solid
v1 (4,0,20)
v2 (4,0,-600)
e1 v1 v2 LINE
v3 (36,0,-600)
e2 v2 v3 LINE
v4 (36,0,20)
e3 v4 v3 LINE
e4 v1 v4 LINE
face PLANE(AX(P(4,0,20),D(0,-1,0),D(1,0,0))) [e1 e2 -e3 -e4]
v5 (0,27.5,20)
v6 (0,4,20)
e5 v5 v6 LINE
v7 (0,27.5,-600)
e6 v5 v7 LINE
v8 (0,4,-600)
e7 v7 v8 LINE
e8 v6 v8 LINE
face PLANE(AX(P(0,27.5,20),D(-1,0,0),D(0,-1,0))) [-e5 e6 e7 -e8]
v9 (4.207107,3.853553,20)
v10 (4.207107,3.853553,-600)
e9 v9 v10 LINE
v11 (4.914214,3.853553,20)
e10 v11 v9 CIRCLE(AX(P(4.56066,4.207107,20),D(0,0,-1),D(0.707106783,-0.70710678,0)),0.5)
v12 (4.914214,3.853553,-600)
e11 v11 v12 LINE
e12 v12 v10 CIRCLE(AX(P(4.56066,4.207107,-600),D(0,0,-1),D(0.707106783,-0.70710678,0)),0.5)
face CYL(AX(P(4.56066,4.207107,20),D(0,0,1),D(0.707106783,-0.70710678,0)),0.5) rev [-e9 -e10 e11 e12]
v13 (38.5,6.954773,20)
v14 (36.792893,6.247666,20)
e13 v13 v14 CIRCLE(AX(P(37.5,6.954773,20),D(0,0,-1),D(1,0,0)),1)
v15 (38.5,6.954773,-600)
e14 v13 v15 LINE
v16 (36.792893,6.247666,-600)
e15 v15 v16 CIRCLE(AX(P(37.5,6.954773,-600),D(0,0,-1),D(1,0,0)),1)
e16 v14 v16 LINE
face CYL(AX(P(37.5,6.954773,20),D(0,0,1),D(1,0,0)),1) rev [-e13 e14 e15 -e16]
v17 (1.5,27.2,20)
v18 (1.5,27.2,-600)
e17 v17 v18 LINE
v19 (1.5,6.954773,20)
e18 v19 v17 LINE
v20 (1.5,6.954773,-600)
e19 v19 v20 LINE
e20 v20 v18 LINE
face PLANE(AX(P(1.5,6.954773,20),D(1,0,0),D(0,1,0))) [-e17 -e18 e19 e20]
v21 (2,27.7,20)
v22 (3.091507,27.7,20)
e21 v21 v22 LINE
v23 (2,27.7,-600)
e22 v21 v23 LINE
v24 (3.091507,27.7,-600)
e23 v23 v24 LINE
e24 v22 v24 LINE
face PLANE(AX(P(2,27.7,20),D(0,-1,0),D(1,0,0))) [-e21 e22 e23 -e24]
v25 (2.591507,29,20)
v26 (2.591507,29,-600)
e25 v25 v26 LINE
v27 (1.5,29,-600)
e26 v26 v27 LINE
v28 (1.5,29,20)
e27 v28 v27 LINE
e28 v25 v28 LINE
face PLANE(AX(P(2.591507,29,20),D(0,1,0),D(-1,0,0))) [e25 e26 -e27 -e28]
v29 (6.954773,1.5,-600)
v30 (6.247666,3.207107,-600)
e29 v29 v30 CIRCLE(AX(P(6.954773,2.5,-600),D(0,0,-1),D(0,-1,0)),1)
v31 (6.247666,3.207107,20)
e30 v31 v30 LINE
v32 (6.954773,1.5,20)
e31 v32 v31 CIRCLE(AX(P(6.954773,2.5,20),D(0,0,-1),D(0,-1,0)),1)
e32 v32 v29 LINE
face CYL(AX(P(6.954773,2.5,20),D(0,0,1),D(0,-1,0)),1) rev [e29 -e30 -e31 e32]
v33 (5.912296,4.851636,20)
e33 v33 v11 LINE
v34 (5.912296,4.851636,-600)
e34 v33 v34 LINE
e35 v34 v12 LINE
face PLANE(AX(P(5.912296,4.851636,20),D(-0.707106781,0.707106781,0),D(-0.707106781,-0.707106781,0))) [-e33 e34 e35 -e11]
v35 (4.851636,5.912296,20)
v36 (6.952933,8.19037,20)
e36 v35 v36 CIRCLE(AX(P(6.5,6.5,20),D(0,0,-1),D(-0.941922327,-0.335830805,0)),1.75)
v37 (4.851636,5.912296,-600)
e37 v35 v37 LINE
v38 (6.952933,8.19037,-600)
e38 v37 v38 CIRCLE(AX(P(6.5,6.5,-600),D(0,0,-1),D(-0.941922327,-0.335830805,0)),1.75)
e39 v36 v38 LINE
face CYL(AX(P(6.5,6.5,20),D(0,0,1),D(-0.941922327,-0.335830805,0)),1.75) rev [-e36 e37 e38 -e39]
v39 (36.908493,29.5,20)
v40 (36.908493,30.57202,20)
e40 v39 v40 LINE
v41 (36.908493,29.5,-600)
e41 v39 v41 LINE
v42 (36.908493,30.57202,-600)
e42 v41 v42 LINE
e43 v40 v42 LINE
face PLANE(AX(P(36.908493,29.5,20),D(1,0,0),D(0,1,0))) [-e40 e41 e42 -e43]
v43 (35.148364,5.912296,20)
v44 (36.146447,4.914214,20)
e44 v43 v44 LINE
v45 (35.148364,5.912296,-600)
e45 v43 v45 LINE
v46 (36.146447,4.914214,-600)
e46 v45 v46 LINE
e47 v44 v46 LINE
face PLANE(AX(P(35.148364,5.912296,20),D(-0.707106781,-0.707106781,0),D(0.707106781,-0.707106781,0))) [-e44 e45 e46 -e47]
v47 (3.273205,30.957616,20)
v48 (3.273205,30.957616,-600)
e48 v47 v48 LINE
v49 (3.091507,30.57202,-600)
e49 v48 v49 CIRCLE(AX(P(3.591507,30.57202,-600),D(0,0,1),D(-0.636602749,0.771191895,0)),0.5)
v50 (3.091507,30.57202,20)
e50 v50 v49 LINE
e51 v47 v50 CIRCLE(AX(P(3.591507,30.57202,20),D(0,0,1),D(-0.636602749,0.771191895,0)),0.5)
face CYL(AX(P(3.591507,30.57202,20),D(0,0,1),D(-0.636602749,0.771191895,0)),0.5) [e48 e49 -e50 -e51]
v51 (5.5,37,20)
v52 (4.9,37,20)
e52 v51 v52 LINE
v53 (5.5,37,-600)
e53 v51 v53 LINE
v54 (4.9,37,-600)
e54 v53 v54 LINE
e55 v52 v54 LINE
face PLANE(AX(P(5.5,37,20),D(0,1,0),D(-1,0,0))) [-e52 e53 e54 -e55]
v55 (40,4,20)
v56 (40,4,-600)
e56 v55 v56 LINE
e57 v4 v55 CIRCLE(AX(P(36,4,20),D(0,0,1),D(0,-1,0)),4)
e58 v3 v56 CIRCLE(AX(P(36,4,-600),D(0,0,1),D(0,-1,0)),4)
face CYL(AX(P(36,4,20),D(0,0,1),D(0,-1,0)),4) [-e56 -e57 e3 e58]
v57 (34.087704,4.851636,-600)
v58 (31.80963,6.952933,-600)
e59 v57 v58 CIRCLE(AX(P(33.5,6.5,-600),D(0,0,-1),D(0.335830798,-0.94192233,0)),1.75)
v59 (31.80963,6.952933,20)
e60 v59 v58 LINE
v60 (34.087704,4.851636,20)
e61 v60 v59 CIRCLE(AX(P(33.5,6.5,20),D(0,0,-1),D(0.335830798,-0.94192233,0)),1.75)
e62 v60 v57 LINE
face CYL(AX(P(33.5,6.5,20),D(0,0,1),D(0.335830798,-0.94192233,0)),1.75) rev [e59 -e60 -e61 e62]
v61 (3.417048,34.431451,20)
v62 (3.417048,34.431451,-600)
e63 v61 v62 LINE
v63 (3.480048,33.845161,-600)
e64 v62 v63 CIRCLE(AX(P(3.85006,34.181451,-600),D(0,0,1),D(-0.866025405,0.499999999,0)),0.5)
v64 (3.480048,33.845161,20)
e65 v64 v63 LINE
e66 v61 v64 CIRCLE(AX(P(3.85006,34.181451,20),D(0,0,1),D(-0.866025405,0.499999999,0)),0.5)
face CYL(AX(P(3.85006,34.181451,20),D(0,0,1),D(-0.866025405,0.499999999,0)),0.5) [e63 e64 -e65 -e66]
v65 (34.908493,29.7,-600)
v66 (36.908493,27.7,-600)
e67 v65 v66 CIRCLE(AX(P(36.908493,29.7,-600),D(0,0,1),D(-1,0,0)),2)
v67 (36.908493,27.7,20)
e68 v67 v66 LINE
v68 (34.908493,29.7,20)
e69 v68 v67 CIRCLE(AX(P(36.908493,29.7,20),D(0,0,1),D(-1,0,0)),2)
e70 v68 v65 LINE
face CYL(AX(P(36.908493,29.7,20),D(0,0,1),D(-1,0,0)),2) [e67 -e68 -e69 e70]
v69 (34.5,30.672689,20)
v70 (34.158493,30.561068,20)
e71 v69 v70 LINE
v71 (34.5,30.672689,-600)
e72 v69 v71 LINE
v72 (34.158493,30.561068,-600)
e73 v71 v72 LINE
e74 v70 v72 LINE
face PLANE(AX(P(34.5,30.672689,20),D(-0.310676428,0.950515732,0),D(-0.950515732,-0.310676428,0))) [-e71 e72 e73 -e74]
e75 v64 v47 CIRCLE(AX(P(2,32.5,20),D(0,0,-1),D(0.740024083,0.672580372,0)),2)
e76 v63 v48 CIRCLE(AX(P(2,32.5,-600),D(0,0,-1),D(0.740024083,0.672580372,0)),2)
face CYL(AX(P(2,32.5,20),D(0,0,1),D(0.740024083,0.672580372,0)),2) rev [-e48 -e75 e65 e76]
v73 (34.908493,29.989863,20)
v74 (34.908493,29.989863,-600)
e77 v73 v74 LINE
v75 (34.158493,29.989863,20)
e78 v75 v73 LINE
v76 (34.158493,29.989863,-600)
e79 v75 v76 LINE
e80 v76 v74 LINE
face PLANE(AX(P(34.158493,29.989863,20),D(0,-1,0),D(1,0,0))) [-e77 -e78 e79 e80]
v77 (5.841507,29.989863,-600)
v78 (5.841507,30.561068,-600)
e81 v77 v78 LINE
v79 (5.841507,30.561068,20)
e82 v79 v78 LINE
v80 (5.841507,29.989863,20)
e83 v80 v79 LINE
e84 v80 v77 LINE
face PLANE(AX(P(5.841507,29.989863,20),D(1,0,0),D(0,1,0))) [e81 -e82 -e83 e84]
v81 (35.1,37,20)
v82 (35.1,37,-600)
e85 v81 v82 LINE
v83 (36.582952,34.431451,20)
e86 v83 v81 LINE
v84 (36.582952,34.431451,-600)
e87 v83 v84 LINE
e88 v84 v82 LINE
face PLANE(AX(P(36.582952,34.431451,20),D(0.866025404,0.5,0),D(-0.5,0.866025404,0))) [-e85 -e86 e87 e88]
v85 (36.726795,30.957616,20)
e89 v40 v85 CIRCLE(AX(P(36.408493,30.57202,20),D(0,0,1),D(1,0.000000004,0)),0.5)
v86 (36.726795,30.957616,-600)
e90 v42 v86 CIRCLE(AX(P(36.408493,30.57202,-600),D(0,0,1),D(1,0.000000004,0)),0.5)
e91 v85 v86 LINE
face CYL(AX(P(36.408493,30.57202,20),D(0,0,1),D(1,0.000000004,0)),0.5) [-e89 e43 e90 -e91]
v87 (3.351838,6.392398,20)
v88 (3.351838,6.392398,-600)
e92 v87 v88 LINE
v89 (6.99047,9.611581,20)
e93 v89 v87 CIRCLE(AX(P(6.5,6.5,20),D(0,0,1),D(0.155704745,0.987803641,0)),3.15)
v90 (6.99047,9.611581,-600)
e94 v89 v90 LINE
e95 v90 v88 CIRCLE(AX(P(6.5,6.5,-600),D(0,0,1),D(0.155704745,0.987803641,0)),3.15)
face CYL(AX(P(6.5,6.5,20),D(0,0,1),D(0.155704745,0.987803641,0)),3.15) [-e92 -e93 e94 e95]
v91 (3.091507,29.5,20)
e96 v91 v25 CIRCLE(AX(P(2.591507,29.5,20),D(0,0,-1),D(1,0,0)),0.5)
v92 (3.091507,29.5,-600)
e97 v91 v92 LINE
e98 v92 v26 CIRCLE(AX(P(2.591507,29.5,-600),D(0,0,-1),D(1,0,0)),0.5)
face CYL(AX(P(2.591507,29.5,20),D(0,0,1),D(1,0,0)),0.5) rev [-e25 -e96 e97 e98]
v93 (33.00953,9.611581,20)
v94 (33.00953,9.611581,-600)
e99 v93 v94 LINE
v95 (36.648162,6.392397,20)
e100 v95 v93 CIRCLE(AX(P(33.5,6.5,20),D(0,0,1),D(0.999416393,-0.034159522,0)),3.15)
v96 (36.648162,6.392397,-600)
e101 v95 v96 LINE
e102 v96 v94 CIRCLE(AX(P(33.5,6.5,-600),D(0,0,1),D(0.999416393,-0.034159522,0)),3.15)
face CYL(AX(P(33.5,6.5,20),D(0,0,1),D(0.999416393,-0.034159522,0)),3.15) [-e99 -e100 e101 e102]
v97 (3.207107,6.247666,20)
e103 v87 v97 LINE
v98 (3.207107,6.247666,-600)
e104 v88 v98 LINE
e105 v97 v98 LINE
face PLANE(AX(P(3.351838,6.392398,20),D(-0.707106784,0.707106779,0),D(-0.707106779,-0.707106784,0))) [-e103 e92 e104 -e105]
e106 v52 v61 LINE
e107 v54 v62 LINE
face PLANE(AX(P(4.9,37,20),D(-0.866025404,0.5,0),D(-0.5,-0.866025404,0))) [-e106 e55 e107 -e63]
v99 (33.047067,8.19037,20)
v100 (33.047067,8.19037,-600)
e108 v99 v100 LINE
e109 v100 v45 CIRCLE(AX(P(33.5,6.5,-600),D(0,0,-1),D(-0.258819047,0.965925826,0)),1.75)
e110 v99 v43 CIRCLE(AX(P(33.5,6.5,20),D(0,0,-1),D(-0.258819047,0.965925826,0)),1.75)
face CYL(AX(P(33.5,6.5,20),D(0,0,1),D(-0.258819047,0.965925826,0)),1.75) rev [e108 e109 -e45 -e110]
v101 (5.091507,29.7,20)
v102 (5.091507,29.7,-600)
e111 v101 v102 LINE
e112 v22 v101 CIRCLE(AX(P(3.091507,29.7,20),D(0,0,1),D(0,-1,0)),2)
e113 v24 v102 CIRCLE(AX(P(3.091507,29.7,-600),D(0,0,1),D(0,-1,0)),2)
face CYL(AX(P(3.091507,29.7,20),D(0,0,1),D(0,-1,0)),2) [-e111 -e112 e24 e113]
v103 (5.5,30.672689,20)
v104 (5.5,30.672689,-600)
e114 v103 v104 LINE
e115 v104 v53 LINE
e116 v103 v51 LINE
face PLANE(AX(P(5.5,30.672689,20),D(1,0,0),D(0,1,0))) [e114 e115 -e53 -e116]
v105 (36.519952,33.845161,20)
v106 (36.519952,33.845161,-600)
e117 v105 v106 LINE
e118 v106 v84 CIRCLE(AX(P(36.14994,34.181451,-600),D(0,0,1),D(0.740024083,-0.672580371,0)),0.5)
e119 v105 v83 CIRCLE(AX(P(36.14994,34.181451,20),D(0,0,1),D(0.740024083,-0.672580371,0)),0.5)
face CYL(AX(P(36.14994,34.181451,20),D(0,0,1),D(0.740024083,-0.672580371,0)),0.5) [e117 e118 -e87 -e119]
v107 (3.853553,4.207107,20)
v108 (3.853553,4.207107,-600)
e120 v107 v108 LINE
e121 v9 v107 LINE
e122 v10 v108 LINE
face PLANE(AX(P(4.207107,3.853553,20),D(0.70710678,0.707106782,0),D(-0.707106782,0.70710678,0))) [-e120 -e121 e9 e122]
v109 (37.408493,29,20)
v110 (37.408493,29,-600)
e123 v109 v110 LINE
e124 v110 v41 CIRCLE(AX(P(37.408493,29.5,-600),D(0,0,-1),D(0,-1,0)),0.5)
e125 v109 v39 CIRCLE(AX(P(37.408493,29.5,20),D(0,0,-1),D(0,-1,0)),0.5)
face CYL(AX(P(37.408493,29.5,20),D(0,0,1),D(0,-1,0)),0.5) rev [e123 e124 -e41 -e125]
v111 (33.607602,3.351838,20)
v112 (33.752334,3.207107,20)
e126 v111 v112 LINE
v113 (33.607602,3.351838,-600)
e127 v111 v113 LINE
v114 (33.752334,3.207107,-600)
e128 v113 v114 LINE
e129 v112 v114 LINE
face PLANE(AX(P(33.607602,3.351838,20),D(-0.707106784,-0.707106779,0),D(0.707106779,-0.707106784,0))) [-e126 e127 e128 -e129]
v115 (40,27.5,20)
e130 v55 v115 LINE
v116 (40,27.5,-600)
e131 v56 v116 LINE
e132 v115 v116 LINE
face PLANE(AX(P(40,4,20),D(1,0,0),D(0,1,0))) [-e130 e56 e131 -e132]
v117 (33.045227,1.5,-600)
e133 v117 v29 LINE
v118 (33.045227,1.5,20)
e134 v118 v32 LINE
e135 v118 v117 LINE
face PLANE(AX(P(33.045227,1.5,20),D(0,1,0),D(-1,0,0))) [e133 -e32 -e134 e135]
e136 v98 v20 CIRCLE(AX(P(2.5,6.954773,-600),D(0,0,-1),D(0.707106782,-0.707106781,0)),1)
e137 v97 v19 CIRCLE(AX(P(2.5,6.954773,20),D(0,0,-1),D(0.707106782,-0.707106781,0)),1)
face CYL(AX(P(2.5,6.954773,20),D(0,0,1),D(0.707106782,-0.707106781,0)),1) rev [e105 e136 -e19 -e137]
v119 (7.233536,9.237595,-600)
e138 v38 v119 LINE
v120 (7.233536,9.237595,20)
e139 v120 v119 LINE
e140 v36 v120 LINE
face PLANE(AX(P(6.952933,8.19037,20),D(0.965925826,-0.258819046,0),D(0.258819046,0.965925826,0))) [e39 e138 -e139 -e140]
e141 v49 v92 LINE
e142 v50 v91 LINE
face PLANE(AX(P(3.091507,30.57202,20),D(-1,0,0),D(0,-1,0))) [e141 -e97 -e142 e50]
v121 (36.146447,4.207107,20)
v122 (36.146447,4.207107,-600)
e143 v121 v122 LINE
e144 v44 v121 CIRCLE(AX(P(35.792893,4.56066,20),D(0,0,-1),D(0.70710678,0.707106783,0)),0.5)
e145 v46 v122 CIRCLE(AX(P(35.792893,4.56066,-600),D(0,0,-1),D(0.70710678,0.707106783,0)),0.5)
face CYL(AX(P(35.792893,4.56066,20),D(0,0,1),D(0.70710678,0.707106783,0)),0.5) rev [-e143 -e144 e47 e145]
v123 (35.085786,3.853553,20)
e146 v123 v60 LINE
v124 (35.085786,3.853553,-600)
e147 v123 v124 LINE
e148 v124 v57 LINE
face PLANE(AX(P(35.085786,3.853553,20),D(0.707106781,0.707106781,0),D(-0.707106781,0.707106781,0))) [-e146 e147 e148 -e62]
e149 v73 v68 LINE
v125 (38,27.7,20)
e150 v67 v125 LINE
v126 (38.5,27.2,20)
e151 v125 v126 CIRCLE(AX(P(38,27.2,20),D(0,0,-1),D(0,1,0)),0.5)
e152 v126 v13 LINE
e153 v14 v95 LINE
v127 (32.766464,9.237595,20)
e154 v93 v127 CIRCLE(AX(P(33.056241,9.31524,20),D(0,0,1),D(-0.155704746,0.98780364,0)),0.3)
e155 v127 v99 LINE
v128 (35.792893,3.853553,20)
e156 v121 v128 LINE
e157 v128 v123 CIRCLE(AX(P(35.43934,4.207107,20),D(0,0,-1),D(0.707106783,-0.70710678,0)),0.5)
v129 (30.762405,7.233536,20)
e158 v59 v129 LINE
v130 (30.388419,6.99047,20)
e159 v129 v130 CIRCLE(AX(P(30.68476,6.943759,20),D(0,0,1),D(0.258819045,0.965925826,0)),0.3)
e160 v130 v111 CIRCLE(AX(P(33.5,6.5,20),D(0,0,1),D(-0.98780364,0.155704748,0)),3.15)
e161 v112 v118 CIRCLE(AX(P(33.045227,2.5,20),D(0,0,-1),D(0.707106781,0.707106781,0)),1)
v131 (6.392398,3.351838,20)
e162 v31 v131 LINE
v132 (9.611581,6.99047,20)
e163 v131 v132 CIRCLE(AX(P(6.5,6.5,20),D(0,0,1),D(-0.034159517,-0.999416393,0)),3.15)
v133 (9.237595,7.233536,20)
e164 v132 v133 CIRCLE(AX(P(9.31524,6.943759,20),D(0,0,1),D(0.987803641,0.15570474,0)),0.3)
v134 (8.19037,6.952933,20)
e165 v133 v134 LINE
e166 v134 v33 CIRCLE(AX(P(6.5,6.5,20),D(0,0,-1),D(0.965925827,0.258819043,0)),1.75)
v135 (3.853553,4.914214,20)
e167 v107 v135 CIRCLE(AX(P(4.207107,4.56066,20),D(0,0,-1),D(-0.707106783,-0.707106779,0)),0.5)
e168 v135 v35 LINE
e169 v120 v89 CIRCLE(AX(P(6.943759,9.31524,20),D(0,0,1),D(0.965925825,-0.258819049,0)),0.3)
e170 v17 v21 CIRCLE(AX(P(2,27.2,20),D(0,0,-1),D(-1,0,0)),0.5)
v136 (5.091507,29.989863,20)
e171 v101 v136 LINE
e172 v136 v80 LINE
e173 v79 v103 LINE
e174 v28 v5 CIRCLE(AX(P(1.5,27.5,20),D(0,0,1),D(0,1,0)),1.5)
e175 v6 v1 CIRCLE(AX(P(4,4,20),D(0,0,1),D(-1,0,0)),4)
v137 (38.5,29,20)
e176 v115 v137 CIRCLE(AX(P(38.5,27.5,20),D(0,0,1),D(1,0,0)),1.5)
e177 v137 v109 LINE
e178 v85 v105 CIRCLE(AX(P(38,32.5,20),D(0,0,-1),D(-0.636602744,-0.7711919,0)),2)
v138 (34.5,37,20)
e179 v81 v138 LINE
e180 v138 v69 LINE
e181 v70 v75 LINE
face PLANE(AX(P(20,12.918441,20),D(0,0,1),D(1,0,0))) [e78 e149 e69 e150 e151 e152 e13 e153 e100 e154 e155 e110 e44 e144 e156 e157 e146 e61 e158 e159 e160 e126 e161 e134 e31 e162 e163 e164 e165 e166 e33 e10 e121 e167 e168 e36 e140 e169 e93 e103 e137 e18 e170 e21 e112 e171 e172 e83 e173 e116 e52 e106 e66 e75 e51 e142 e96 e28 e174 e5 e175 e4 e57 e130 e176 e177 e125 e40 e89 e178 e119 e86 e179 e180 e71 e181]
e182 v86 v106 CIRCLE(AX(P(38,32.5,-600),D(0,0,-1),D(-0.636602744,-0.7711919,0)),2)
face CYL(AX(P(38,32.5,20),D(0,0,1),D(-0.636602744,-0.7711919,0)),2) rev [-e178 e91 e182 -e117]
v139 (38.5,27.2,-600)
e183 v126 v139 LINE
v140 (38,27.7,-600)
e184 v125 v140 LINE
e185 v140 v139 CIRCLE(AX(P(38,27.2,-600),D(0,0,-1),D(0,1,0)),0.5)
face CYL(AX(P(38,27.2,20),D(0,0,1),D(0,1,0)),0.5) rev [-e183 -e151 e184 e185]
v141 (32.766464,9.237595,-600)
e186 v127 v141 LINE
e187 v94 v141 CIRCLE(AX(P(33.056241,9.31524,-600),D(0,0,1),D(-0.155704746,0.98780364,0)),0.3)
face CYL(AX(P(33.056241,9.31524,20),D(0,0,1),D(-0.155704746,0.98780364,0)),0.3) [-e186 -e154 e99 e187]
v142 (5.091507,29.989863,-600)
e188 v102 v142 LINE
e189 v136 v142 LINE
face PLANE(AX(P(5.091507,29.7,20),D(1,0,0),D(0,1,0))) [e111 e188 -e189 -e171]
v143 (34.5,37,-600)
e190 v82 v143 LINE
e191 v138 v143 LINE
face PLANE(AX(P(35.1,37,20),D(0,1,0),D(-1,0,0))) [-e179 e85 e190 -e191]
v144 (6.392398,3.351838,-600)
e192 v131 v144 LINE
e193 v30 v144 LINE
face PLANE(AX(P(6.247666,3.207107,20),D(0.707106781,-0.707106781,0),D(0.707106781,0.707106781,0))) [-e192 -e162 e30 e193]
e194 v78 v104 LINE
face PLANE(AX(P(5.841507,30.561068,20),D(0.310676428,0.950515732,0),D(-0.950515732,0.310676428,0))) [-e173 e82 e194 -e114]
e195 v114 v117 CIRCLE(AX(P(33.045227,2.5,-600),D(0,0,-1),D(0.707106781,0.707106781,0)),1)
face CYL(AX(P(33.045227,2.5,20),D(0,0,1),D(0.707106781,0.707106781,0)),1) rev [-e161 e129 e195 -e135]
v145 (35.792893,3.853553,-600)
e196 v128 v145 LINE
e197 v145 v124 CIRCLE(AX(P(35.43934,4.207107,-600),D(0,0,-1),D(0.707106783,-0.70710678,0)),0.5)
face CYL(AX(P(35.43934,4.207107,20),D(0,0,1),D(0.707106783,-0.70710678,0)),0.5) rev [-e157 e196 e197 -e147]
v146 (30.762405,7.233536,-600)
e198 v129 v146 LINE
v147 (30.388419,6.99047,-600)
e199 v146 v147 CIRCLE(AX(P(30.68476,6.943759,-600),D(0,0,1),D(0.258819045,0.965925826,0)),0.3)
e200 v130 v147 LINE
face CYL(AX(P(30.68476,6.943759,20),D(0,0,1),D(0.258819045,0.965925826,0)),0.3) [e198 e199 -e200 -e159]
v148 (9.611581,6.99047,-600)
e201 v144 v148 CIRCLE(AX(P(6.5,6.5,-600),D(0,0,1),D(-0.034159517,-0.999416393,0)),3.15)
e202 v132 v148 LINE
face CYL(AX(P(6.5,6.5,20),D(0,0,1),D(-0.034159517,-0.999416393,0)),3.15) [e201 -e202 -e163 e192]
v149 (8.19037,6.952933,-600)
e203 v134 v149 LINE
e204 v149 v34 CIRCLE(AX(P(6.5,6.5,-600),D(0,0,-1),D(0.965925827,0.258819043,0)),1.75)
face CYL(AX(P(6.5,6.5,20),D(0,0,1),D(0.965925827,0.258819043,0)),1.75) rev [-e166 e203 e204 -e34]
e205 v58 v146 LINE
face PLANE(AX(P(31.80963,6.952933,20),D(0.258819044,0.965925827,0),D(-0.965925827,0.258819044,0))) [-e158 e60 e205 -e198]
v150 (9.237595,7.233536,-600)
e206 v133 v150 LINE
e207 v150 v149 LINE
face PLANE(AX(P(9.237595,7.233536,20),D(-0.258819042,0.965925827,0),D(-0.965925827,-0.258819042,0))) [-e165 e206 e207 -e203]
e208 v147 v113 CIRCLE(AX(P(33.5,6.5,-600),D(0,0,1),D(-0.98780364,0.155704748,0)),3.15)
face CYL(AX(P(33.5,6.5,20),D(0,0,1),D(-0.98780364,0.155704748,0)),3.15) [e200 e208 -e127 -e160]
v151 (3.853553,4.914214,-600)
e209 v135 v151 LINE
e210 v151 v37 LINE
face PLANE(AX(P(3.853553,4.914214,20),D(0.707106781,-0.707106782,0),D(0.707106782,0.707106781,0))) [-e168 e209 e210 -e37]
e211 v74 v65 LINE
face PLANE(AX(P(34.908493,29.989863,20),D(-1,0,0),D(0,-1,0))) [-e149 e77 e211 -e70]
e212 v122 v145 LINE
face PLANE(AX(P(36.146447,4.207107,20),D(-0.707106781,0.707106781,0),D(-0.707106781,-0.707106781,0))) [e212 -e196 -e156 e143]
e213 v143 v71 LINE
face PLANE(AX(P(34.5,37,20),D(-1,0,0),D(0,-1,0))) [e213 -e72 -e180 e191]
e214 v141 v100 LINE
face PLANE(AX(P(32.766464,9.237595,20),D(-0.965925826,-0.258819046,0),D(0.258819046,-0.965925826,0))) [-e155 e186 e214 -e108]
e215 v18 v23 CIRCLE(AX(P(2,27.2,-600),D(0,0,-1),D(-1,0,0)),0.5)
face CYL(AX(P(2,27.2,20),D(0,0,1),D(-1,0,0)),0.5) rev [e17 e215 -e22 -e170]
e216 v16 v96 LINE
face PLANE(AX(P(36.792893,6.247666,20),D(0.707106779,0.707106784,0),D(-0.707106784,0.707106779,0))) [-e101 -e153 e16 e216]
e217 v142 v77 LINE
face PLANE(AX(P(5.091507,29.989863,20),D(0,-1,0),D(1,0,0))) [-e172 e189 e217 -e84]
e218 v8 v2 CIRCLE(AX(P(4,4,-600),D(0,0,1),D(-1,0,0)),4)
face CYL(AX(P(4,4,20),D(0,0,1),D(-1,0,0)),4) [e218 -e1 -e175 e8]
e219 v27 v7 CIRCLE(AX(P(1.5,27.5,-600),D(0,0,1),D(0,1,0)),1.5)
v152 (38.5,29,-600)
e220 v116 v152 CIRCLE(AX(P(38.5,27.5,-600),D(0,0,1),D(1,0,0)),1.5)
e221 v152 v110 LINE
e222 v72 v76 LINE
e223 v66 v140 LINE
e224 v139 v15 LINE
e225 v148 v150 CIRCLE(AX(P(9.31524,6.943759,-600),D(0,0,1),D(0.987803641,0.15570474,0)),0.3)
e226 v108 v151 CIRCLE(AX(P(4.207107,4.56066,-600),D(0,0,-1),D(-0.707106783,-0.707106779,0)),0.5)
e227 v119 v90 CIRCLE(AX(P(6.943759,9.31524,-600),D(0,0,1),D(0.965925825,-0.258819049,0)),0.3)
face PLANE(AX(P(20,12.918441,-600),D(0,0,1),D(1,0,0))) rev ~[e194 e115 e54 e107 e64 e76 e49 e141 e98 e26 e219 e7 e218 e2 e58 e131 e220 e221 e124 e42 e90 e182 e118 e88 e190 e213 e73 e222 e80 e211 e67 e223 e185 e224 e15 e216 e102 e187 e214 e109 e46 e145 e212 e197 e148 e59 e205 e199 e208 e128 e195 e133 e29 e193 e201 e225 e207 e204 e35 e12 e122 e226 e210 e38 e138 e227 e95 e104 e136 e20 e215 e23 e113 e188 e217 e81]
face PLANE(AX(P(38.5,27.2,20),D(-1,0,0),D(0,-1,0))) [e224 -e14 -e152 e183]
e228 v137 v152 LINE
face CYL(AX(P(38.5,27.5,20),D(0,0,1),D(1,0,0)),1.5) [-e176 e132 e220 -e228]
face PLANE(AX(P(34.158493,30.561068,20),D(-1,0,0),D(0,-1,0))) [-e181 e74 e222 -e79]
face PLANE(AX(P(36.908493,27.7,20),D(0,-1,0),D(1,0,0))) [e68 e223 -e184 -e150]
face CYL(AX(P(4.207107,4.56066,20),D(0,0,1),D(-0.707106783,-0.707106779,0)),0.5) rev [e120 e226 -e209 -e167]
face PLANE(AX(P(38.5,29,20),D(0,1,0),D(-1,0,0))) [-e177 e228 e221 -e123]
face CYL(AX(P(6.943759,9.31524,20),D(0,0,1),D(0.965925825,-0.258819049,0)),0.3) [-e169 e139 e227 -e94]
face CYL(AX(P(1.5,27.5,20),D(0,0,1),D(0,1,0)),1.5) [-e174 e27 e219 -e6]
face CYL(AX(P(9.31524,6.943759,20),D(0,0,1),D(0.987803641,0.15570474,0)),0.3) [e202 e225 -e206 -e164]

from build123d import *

# Parameters (mm, degrees)
BOSS_EXTRUDE1_DEPTH = 620


with BuildPart() as part:
    # Sketch1 → Boss-Extrude1 (new body)
    with BuildSketch(Plane.XY.offset(20)):
        with BuildLine():
            Line((4, 0), (36, 0))
            ThreePointArc((36, 0), (38.828427125, 1.171572875), (40, 4))
            Line((40, 4), (40, 27.499999994))
            ThreePointArc((40, 27.499999994), (39.56066017, 28.56066017), (38.499999994, 29))
            Line((38.499999994, 29), (37.408493132, 29))
            ThreePointArc((37.408493132, 29), (37.05493974, 29.14644661), (36.90849313, 29.500000002))
            Line((36.90849313, 29.500000002), (36.90849313, 30.572020267))
            ThreePointArc((36.90849313, 30.572020267), (36.86079319, 30.785150869), (36.726794508, 30.957616203))
            ThreePointArc((36.726794508, 30.957616203), (36.005111578, 32.357100716), (36.519951827, 33.845160752))
            ThreePointArc((36.519951827, 33.845160752), (36.647077826, 34.128030253), (36.582952488, 34.431450944))
            Line((36.582952488, 34.431450944), (35.099999998, 37.000000001))
            Line((35.099999998, 37.000000001), (34.500000002, 37.000000001))
            Line((34.500000002, 37.000000001), (34.500000002, 30.672689193))
            Line((34.500000002, 30.672689193), (34.158493132, 30.561067543))
            Line((34.158493132, 30.561067543), (34.158493132, 29.989862813))
            Line((34.158493132, 29.989862813), (34.908493132, 29.989862813))
            Line((34.908493132, 29.989862813), (34.908493132, 29.700000011))
            ThreePointArc((34.908493132, 29.700000011), (35.494279572, 28.285786443), (36.908493141, 27.700000003))
            Line((36.908493141, 27.700000003), (38.000000017, 27.700000003))
            ThreePointArc((38.000000017, 27.700000003), (38.353553409, 27.553553393), (38.500000019, 27.200000001))
            Line((38.500000019, 27.200000001), (38.500000019, 6.9547727))
            ThreePointArc((38.500000019, 6.9547727), (37.882683451, 6.030893167), (36.792893237, 6.247665919))
            Line((36.792893237, 6.247665919), (36.648161659, 6.392397496))
            ThreePointArc((36.648161659, 6.392397496), (35.587251229, 8.859212237), (33.009530056, 9.611581471))
            ThreePointArc((33.009530056, 9.611581471), (32.804700675, 9.478725012), (32.766463725, 9.237594653))
            Line((32.766463725, 9.237594653), (33.047066675, 8.190370192))
            ThreePointArc((33.047066675, 8.190370192), (34.786339421, 7.686520507), (35.148364083, 5.912296075))
            Line((35.148364083, 5.912296075), (36.146446608, 4.91421355))
            ThreePointArc((36.146446608, 4.91421355), (36.292893217, 4.560660161), (36.146446608, 4.207106773))
            Line((36.146446608, 4.207106773), (35.792893214, 3.853553379))
            ThreePointArc((35.792893214, 3.853553379), (35.439339826, 3.70710677), (35.085786437, 3.853553379))
            Line((35.085786437, 3.853553379), (34.087703906, 4.85163591))
            ThreePointArc((34.087703906, 4.85163591), (32.313479487, 5.213660585), (31.809629807, 6.952933321))
            Line((31.809629807, 6.952933321), (30.762405333, 7.233536272))
            ThreePointArc((30.762405333, 7.233536272), (30.521274984, 7.195299323), (30.38841853, 6.990469949))
            ThreePointArc((30.38841853, 6.990469949), (31.140787752, 4.412748784), (33.607602477, 3.351838341))
            Line((33.607602477, 3.351838341), (33.752334032, 3.207106785))
            ThreePointArc((33.752334032, 3.207106785), (33.969106782, 2.117316579), (33.045227255, 1.500000015))
            Line((33.045227255, 1.500000015), (6.954772716, 1.500000015))
            ThreePointArc((6.954772716, 1.500000015), (6.030893183, 2.117316583), (6.247665934, 3.207106797))
            Line((6.247665934, 3.207106797), (6.392397512, 3.351838375))
            ThreePointArc((6.392397512, 3.351838375), (8.859212224, 4.412748803), (9.611581449, 6.990469949))
            ThreePointArc((9.611581449, 6.990469949), (9.478724996, 7.195299323), (9.237594646, 7.233536272))
            Line((9.237594646, 7.233536272), (8.190370187, 6.952933328))
            ThreePointArc((8.190370187, 6.952933328), (7.686520502, 5.213660596), (5.912296085, 4.851635932))
            Line((5.912296085, 4.851635932), (4.914213553, 3.8535534))
            ThreePointArc((4.914213553, 3.8535534), (4.560660164, 3.707106791), (4.207106776, 3.8535534))
            Line((4.207106776, 3.8535534), (3.853553388, 4.207106787))
            ThreePointArc((3.853553388, 4.207106787), (3.70710678, 4.560660175), (3.853553388, 4.914213564))
            Line((3.853553388, 4.914213564), (4.85163592, 5.912296095))
            ThreePointArc((4.85163592, 5.912296095), (5.213660585, 7.686520517), (6.952933322, 8.190370198))
            Line((6.952933322, 8.190370198), (7.233536268, 9.237594644))
            ThreePointArc((7.233536268, 9.237594644), (7.195299318, 9.478725003), (6.990469936, 9.611581462))
            ThreePointArc((6.990469936, 9.611581462), (4.412748785, 8.859212233), (3.351838362, 6.392397513))
            Line((3.351838362, 6.392397513), (3.207106785, 6.247665935))
            ThreePointArc((3.207106785, 6.247665935), (2.11731657, 6.030893183), (1.500000002, 6.954772717))
            Line((1.500000002, 6.954772717), (1.500000002, 27.200000001))
            ThreePointArc((1.500000002, 27.200000001), (1.646446612, 27.553553393), (2.000000004, 27.700000003))
            Line((2.000000004, 27.700000003), (3.091506864, 27.700000003))
            ThreePointArc((3.091506864, 27.700000003), (4.505720432, 28.285786443), (5.091506872, 29.700000011))
            Line((5.091506872, 29.700000011), (5.091506872, 29.989862813))
            Line((5.091506872, 29.989862813), (5.841506868, 29.989862813))
            Line((5.841506868, 29.989862813), (5.841506868, 30.561067541))
            Line((5.841506868, 30.561067541), (5.499999998, 30.672689191))
            Line((5.499999998, 30.672689191), (5.499999998, 37.000000001))
            Line((5.499999998, 37.000000001), (4.899999998, 37.000000001))
            Line((4.899999998, 37.000000001), (3.417047508, 34.431450944))
            ThreePointArc((3.417047508, 34.431450944), (3.35292217, 34.128030253), (3.480048169, 33.845160751))
            ThreePointArc((3.480048169, 33.845160751), (3.99488842, 32.357100716), (3.273205491, 30.957616203))
            ThreePointArc((3.273205491, 30.957616203), (3.13920681, 30.785150869), (3.09150687, 30.572020267))
            Line((3.09150687, 30.572020267), (3.09150687, 29.500000002))
            ThreePointArc((3.09150687, 29.500000002), (2.94506026, 29.14644661), (2.591506868, 29))
            Line((2.591506868, 29), (1.500000006, 29))
            ThreePointArc((1.500000006, 29), (0.43933983, 28.56066017), (0, 27.499999994))
            Line((0, 27.499999994), (0, 4))
            ThreePointArc((0, 4), (1.171572875, 1.171572875), (4, 0))
        make_face()
    extrude(amount=-BOSS_EXTRUDE1_DEPTH)


solid = part.part
